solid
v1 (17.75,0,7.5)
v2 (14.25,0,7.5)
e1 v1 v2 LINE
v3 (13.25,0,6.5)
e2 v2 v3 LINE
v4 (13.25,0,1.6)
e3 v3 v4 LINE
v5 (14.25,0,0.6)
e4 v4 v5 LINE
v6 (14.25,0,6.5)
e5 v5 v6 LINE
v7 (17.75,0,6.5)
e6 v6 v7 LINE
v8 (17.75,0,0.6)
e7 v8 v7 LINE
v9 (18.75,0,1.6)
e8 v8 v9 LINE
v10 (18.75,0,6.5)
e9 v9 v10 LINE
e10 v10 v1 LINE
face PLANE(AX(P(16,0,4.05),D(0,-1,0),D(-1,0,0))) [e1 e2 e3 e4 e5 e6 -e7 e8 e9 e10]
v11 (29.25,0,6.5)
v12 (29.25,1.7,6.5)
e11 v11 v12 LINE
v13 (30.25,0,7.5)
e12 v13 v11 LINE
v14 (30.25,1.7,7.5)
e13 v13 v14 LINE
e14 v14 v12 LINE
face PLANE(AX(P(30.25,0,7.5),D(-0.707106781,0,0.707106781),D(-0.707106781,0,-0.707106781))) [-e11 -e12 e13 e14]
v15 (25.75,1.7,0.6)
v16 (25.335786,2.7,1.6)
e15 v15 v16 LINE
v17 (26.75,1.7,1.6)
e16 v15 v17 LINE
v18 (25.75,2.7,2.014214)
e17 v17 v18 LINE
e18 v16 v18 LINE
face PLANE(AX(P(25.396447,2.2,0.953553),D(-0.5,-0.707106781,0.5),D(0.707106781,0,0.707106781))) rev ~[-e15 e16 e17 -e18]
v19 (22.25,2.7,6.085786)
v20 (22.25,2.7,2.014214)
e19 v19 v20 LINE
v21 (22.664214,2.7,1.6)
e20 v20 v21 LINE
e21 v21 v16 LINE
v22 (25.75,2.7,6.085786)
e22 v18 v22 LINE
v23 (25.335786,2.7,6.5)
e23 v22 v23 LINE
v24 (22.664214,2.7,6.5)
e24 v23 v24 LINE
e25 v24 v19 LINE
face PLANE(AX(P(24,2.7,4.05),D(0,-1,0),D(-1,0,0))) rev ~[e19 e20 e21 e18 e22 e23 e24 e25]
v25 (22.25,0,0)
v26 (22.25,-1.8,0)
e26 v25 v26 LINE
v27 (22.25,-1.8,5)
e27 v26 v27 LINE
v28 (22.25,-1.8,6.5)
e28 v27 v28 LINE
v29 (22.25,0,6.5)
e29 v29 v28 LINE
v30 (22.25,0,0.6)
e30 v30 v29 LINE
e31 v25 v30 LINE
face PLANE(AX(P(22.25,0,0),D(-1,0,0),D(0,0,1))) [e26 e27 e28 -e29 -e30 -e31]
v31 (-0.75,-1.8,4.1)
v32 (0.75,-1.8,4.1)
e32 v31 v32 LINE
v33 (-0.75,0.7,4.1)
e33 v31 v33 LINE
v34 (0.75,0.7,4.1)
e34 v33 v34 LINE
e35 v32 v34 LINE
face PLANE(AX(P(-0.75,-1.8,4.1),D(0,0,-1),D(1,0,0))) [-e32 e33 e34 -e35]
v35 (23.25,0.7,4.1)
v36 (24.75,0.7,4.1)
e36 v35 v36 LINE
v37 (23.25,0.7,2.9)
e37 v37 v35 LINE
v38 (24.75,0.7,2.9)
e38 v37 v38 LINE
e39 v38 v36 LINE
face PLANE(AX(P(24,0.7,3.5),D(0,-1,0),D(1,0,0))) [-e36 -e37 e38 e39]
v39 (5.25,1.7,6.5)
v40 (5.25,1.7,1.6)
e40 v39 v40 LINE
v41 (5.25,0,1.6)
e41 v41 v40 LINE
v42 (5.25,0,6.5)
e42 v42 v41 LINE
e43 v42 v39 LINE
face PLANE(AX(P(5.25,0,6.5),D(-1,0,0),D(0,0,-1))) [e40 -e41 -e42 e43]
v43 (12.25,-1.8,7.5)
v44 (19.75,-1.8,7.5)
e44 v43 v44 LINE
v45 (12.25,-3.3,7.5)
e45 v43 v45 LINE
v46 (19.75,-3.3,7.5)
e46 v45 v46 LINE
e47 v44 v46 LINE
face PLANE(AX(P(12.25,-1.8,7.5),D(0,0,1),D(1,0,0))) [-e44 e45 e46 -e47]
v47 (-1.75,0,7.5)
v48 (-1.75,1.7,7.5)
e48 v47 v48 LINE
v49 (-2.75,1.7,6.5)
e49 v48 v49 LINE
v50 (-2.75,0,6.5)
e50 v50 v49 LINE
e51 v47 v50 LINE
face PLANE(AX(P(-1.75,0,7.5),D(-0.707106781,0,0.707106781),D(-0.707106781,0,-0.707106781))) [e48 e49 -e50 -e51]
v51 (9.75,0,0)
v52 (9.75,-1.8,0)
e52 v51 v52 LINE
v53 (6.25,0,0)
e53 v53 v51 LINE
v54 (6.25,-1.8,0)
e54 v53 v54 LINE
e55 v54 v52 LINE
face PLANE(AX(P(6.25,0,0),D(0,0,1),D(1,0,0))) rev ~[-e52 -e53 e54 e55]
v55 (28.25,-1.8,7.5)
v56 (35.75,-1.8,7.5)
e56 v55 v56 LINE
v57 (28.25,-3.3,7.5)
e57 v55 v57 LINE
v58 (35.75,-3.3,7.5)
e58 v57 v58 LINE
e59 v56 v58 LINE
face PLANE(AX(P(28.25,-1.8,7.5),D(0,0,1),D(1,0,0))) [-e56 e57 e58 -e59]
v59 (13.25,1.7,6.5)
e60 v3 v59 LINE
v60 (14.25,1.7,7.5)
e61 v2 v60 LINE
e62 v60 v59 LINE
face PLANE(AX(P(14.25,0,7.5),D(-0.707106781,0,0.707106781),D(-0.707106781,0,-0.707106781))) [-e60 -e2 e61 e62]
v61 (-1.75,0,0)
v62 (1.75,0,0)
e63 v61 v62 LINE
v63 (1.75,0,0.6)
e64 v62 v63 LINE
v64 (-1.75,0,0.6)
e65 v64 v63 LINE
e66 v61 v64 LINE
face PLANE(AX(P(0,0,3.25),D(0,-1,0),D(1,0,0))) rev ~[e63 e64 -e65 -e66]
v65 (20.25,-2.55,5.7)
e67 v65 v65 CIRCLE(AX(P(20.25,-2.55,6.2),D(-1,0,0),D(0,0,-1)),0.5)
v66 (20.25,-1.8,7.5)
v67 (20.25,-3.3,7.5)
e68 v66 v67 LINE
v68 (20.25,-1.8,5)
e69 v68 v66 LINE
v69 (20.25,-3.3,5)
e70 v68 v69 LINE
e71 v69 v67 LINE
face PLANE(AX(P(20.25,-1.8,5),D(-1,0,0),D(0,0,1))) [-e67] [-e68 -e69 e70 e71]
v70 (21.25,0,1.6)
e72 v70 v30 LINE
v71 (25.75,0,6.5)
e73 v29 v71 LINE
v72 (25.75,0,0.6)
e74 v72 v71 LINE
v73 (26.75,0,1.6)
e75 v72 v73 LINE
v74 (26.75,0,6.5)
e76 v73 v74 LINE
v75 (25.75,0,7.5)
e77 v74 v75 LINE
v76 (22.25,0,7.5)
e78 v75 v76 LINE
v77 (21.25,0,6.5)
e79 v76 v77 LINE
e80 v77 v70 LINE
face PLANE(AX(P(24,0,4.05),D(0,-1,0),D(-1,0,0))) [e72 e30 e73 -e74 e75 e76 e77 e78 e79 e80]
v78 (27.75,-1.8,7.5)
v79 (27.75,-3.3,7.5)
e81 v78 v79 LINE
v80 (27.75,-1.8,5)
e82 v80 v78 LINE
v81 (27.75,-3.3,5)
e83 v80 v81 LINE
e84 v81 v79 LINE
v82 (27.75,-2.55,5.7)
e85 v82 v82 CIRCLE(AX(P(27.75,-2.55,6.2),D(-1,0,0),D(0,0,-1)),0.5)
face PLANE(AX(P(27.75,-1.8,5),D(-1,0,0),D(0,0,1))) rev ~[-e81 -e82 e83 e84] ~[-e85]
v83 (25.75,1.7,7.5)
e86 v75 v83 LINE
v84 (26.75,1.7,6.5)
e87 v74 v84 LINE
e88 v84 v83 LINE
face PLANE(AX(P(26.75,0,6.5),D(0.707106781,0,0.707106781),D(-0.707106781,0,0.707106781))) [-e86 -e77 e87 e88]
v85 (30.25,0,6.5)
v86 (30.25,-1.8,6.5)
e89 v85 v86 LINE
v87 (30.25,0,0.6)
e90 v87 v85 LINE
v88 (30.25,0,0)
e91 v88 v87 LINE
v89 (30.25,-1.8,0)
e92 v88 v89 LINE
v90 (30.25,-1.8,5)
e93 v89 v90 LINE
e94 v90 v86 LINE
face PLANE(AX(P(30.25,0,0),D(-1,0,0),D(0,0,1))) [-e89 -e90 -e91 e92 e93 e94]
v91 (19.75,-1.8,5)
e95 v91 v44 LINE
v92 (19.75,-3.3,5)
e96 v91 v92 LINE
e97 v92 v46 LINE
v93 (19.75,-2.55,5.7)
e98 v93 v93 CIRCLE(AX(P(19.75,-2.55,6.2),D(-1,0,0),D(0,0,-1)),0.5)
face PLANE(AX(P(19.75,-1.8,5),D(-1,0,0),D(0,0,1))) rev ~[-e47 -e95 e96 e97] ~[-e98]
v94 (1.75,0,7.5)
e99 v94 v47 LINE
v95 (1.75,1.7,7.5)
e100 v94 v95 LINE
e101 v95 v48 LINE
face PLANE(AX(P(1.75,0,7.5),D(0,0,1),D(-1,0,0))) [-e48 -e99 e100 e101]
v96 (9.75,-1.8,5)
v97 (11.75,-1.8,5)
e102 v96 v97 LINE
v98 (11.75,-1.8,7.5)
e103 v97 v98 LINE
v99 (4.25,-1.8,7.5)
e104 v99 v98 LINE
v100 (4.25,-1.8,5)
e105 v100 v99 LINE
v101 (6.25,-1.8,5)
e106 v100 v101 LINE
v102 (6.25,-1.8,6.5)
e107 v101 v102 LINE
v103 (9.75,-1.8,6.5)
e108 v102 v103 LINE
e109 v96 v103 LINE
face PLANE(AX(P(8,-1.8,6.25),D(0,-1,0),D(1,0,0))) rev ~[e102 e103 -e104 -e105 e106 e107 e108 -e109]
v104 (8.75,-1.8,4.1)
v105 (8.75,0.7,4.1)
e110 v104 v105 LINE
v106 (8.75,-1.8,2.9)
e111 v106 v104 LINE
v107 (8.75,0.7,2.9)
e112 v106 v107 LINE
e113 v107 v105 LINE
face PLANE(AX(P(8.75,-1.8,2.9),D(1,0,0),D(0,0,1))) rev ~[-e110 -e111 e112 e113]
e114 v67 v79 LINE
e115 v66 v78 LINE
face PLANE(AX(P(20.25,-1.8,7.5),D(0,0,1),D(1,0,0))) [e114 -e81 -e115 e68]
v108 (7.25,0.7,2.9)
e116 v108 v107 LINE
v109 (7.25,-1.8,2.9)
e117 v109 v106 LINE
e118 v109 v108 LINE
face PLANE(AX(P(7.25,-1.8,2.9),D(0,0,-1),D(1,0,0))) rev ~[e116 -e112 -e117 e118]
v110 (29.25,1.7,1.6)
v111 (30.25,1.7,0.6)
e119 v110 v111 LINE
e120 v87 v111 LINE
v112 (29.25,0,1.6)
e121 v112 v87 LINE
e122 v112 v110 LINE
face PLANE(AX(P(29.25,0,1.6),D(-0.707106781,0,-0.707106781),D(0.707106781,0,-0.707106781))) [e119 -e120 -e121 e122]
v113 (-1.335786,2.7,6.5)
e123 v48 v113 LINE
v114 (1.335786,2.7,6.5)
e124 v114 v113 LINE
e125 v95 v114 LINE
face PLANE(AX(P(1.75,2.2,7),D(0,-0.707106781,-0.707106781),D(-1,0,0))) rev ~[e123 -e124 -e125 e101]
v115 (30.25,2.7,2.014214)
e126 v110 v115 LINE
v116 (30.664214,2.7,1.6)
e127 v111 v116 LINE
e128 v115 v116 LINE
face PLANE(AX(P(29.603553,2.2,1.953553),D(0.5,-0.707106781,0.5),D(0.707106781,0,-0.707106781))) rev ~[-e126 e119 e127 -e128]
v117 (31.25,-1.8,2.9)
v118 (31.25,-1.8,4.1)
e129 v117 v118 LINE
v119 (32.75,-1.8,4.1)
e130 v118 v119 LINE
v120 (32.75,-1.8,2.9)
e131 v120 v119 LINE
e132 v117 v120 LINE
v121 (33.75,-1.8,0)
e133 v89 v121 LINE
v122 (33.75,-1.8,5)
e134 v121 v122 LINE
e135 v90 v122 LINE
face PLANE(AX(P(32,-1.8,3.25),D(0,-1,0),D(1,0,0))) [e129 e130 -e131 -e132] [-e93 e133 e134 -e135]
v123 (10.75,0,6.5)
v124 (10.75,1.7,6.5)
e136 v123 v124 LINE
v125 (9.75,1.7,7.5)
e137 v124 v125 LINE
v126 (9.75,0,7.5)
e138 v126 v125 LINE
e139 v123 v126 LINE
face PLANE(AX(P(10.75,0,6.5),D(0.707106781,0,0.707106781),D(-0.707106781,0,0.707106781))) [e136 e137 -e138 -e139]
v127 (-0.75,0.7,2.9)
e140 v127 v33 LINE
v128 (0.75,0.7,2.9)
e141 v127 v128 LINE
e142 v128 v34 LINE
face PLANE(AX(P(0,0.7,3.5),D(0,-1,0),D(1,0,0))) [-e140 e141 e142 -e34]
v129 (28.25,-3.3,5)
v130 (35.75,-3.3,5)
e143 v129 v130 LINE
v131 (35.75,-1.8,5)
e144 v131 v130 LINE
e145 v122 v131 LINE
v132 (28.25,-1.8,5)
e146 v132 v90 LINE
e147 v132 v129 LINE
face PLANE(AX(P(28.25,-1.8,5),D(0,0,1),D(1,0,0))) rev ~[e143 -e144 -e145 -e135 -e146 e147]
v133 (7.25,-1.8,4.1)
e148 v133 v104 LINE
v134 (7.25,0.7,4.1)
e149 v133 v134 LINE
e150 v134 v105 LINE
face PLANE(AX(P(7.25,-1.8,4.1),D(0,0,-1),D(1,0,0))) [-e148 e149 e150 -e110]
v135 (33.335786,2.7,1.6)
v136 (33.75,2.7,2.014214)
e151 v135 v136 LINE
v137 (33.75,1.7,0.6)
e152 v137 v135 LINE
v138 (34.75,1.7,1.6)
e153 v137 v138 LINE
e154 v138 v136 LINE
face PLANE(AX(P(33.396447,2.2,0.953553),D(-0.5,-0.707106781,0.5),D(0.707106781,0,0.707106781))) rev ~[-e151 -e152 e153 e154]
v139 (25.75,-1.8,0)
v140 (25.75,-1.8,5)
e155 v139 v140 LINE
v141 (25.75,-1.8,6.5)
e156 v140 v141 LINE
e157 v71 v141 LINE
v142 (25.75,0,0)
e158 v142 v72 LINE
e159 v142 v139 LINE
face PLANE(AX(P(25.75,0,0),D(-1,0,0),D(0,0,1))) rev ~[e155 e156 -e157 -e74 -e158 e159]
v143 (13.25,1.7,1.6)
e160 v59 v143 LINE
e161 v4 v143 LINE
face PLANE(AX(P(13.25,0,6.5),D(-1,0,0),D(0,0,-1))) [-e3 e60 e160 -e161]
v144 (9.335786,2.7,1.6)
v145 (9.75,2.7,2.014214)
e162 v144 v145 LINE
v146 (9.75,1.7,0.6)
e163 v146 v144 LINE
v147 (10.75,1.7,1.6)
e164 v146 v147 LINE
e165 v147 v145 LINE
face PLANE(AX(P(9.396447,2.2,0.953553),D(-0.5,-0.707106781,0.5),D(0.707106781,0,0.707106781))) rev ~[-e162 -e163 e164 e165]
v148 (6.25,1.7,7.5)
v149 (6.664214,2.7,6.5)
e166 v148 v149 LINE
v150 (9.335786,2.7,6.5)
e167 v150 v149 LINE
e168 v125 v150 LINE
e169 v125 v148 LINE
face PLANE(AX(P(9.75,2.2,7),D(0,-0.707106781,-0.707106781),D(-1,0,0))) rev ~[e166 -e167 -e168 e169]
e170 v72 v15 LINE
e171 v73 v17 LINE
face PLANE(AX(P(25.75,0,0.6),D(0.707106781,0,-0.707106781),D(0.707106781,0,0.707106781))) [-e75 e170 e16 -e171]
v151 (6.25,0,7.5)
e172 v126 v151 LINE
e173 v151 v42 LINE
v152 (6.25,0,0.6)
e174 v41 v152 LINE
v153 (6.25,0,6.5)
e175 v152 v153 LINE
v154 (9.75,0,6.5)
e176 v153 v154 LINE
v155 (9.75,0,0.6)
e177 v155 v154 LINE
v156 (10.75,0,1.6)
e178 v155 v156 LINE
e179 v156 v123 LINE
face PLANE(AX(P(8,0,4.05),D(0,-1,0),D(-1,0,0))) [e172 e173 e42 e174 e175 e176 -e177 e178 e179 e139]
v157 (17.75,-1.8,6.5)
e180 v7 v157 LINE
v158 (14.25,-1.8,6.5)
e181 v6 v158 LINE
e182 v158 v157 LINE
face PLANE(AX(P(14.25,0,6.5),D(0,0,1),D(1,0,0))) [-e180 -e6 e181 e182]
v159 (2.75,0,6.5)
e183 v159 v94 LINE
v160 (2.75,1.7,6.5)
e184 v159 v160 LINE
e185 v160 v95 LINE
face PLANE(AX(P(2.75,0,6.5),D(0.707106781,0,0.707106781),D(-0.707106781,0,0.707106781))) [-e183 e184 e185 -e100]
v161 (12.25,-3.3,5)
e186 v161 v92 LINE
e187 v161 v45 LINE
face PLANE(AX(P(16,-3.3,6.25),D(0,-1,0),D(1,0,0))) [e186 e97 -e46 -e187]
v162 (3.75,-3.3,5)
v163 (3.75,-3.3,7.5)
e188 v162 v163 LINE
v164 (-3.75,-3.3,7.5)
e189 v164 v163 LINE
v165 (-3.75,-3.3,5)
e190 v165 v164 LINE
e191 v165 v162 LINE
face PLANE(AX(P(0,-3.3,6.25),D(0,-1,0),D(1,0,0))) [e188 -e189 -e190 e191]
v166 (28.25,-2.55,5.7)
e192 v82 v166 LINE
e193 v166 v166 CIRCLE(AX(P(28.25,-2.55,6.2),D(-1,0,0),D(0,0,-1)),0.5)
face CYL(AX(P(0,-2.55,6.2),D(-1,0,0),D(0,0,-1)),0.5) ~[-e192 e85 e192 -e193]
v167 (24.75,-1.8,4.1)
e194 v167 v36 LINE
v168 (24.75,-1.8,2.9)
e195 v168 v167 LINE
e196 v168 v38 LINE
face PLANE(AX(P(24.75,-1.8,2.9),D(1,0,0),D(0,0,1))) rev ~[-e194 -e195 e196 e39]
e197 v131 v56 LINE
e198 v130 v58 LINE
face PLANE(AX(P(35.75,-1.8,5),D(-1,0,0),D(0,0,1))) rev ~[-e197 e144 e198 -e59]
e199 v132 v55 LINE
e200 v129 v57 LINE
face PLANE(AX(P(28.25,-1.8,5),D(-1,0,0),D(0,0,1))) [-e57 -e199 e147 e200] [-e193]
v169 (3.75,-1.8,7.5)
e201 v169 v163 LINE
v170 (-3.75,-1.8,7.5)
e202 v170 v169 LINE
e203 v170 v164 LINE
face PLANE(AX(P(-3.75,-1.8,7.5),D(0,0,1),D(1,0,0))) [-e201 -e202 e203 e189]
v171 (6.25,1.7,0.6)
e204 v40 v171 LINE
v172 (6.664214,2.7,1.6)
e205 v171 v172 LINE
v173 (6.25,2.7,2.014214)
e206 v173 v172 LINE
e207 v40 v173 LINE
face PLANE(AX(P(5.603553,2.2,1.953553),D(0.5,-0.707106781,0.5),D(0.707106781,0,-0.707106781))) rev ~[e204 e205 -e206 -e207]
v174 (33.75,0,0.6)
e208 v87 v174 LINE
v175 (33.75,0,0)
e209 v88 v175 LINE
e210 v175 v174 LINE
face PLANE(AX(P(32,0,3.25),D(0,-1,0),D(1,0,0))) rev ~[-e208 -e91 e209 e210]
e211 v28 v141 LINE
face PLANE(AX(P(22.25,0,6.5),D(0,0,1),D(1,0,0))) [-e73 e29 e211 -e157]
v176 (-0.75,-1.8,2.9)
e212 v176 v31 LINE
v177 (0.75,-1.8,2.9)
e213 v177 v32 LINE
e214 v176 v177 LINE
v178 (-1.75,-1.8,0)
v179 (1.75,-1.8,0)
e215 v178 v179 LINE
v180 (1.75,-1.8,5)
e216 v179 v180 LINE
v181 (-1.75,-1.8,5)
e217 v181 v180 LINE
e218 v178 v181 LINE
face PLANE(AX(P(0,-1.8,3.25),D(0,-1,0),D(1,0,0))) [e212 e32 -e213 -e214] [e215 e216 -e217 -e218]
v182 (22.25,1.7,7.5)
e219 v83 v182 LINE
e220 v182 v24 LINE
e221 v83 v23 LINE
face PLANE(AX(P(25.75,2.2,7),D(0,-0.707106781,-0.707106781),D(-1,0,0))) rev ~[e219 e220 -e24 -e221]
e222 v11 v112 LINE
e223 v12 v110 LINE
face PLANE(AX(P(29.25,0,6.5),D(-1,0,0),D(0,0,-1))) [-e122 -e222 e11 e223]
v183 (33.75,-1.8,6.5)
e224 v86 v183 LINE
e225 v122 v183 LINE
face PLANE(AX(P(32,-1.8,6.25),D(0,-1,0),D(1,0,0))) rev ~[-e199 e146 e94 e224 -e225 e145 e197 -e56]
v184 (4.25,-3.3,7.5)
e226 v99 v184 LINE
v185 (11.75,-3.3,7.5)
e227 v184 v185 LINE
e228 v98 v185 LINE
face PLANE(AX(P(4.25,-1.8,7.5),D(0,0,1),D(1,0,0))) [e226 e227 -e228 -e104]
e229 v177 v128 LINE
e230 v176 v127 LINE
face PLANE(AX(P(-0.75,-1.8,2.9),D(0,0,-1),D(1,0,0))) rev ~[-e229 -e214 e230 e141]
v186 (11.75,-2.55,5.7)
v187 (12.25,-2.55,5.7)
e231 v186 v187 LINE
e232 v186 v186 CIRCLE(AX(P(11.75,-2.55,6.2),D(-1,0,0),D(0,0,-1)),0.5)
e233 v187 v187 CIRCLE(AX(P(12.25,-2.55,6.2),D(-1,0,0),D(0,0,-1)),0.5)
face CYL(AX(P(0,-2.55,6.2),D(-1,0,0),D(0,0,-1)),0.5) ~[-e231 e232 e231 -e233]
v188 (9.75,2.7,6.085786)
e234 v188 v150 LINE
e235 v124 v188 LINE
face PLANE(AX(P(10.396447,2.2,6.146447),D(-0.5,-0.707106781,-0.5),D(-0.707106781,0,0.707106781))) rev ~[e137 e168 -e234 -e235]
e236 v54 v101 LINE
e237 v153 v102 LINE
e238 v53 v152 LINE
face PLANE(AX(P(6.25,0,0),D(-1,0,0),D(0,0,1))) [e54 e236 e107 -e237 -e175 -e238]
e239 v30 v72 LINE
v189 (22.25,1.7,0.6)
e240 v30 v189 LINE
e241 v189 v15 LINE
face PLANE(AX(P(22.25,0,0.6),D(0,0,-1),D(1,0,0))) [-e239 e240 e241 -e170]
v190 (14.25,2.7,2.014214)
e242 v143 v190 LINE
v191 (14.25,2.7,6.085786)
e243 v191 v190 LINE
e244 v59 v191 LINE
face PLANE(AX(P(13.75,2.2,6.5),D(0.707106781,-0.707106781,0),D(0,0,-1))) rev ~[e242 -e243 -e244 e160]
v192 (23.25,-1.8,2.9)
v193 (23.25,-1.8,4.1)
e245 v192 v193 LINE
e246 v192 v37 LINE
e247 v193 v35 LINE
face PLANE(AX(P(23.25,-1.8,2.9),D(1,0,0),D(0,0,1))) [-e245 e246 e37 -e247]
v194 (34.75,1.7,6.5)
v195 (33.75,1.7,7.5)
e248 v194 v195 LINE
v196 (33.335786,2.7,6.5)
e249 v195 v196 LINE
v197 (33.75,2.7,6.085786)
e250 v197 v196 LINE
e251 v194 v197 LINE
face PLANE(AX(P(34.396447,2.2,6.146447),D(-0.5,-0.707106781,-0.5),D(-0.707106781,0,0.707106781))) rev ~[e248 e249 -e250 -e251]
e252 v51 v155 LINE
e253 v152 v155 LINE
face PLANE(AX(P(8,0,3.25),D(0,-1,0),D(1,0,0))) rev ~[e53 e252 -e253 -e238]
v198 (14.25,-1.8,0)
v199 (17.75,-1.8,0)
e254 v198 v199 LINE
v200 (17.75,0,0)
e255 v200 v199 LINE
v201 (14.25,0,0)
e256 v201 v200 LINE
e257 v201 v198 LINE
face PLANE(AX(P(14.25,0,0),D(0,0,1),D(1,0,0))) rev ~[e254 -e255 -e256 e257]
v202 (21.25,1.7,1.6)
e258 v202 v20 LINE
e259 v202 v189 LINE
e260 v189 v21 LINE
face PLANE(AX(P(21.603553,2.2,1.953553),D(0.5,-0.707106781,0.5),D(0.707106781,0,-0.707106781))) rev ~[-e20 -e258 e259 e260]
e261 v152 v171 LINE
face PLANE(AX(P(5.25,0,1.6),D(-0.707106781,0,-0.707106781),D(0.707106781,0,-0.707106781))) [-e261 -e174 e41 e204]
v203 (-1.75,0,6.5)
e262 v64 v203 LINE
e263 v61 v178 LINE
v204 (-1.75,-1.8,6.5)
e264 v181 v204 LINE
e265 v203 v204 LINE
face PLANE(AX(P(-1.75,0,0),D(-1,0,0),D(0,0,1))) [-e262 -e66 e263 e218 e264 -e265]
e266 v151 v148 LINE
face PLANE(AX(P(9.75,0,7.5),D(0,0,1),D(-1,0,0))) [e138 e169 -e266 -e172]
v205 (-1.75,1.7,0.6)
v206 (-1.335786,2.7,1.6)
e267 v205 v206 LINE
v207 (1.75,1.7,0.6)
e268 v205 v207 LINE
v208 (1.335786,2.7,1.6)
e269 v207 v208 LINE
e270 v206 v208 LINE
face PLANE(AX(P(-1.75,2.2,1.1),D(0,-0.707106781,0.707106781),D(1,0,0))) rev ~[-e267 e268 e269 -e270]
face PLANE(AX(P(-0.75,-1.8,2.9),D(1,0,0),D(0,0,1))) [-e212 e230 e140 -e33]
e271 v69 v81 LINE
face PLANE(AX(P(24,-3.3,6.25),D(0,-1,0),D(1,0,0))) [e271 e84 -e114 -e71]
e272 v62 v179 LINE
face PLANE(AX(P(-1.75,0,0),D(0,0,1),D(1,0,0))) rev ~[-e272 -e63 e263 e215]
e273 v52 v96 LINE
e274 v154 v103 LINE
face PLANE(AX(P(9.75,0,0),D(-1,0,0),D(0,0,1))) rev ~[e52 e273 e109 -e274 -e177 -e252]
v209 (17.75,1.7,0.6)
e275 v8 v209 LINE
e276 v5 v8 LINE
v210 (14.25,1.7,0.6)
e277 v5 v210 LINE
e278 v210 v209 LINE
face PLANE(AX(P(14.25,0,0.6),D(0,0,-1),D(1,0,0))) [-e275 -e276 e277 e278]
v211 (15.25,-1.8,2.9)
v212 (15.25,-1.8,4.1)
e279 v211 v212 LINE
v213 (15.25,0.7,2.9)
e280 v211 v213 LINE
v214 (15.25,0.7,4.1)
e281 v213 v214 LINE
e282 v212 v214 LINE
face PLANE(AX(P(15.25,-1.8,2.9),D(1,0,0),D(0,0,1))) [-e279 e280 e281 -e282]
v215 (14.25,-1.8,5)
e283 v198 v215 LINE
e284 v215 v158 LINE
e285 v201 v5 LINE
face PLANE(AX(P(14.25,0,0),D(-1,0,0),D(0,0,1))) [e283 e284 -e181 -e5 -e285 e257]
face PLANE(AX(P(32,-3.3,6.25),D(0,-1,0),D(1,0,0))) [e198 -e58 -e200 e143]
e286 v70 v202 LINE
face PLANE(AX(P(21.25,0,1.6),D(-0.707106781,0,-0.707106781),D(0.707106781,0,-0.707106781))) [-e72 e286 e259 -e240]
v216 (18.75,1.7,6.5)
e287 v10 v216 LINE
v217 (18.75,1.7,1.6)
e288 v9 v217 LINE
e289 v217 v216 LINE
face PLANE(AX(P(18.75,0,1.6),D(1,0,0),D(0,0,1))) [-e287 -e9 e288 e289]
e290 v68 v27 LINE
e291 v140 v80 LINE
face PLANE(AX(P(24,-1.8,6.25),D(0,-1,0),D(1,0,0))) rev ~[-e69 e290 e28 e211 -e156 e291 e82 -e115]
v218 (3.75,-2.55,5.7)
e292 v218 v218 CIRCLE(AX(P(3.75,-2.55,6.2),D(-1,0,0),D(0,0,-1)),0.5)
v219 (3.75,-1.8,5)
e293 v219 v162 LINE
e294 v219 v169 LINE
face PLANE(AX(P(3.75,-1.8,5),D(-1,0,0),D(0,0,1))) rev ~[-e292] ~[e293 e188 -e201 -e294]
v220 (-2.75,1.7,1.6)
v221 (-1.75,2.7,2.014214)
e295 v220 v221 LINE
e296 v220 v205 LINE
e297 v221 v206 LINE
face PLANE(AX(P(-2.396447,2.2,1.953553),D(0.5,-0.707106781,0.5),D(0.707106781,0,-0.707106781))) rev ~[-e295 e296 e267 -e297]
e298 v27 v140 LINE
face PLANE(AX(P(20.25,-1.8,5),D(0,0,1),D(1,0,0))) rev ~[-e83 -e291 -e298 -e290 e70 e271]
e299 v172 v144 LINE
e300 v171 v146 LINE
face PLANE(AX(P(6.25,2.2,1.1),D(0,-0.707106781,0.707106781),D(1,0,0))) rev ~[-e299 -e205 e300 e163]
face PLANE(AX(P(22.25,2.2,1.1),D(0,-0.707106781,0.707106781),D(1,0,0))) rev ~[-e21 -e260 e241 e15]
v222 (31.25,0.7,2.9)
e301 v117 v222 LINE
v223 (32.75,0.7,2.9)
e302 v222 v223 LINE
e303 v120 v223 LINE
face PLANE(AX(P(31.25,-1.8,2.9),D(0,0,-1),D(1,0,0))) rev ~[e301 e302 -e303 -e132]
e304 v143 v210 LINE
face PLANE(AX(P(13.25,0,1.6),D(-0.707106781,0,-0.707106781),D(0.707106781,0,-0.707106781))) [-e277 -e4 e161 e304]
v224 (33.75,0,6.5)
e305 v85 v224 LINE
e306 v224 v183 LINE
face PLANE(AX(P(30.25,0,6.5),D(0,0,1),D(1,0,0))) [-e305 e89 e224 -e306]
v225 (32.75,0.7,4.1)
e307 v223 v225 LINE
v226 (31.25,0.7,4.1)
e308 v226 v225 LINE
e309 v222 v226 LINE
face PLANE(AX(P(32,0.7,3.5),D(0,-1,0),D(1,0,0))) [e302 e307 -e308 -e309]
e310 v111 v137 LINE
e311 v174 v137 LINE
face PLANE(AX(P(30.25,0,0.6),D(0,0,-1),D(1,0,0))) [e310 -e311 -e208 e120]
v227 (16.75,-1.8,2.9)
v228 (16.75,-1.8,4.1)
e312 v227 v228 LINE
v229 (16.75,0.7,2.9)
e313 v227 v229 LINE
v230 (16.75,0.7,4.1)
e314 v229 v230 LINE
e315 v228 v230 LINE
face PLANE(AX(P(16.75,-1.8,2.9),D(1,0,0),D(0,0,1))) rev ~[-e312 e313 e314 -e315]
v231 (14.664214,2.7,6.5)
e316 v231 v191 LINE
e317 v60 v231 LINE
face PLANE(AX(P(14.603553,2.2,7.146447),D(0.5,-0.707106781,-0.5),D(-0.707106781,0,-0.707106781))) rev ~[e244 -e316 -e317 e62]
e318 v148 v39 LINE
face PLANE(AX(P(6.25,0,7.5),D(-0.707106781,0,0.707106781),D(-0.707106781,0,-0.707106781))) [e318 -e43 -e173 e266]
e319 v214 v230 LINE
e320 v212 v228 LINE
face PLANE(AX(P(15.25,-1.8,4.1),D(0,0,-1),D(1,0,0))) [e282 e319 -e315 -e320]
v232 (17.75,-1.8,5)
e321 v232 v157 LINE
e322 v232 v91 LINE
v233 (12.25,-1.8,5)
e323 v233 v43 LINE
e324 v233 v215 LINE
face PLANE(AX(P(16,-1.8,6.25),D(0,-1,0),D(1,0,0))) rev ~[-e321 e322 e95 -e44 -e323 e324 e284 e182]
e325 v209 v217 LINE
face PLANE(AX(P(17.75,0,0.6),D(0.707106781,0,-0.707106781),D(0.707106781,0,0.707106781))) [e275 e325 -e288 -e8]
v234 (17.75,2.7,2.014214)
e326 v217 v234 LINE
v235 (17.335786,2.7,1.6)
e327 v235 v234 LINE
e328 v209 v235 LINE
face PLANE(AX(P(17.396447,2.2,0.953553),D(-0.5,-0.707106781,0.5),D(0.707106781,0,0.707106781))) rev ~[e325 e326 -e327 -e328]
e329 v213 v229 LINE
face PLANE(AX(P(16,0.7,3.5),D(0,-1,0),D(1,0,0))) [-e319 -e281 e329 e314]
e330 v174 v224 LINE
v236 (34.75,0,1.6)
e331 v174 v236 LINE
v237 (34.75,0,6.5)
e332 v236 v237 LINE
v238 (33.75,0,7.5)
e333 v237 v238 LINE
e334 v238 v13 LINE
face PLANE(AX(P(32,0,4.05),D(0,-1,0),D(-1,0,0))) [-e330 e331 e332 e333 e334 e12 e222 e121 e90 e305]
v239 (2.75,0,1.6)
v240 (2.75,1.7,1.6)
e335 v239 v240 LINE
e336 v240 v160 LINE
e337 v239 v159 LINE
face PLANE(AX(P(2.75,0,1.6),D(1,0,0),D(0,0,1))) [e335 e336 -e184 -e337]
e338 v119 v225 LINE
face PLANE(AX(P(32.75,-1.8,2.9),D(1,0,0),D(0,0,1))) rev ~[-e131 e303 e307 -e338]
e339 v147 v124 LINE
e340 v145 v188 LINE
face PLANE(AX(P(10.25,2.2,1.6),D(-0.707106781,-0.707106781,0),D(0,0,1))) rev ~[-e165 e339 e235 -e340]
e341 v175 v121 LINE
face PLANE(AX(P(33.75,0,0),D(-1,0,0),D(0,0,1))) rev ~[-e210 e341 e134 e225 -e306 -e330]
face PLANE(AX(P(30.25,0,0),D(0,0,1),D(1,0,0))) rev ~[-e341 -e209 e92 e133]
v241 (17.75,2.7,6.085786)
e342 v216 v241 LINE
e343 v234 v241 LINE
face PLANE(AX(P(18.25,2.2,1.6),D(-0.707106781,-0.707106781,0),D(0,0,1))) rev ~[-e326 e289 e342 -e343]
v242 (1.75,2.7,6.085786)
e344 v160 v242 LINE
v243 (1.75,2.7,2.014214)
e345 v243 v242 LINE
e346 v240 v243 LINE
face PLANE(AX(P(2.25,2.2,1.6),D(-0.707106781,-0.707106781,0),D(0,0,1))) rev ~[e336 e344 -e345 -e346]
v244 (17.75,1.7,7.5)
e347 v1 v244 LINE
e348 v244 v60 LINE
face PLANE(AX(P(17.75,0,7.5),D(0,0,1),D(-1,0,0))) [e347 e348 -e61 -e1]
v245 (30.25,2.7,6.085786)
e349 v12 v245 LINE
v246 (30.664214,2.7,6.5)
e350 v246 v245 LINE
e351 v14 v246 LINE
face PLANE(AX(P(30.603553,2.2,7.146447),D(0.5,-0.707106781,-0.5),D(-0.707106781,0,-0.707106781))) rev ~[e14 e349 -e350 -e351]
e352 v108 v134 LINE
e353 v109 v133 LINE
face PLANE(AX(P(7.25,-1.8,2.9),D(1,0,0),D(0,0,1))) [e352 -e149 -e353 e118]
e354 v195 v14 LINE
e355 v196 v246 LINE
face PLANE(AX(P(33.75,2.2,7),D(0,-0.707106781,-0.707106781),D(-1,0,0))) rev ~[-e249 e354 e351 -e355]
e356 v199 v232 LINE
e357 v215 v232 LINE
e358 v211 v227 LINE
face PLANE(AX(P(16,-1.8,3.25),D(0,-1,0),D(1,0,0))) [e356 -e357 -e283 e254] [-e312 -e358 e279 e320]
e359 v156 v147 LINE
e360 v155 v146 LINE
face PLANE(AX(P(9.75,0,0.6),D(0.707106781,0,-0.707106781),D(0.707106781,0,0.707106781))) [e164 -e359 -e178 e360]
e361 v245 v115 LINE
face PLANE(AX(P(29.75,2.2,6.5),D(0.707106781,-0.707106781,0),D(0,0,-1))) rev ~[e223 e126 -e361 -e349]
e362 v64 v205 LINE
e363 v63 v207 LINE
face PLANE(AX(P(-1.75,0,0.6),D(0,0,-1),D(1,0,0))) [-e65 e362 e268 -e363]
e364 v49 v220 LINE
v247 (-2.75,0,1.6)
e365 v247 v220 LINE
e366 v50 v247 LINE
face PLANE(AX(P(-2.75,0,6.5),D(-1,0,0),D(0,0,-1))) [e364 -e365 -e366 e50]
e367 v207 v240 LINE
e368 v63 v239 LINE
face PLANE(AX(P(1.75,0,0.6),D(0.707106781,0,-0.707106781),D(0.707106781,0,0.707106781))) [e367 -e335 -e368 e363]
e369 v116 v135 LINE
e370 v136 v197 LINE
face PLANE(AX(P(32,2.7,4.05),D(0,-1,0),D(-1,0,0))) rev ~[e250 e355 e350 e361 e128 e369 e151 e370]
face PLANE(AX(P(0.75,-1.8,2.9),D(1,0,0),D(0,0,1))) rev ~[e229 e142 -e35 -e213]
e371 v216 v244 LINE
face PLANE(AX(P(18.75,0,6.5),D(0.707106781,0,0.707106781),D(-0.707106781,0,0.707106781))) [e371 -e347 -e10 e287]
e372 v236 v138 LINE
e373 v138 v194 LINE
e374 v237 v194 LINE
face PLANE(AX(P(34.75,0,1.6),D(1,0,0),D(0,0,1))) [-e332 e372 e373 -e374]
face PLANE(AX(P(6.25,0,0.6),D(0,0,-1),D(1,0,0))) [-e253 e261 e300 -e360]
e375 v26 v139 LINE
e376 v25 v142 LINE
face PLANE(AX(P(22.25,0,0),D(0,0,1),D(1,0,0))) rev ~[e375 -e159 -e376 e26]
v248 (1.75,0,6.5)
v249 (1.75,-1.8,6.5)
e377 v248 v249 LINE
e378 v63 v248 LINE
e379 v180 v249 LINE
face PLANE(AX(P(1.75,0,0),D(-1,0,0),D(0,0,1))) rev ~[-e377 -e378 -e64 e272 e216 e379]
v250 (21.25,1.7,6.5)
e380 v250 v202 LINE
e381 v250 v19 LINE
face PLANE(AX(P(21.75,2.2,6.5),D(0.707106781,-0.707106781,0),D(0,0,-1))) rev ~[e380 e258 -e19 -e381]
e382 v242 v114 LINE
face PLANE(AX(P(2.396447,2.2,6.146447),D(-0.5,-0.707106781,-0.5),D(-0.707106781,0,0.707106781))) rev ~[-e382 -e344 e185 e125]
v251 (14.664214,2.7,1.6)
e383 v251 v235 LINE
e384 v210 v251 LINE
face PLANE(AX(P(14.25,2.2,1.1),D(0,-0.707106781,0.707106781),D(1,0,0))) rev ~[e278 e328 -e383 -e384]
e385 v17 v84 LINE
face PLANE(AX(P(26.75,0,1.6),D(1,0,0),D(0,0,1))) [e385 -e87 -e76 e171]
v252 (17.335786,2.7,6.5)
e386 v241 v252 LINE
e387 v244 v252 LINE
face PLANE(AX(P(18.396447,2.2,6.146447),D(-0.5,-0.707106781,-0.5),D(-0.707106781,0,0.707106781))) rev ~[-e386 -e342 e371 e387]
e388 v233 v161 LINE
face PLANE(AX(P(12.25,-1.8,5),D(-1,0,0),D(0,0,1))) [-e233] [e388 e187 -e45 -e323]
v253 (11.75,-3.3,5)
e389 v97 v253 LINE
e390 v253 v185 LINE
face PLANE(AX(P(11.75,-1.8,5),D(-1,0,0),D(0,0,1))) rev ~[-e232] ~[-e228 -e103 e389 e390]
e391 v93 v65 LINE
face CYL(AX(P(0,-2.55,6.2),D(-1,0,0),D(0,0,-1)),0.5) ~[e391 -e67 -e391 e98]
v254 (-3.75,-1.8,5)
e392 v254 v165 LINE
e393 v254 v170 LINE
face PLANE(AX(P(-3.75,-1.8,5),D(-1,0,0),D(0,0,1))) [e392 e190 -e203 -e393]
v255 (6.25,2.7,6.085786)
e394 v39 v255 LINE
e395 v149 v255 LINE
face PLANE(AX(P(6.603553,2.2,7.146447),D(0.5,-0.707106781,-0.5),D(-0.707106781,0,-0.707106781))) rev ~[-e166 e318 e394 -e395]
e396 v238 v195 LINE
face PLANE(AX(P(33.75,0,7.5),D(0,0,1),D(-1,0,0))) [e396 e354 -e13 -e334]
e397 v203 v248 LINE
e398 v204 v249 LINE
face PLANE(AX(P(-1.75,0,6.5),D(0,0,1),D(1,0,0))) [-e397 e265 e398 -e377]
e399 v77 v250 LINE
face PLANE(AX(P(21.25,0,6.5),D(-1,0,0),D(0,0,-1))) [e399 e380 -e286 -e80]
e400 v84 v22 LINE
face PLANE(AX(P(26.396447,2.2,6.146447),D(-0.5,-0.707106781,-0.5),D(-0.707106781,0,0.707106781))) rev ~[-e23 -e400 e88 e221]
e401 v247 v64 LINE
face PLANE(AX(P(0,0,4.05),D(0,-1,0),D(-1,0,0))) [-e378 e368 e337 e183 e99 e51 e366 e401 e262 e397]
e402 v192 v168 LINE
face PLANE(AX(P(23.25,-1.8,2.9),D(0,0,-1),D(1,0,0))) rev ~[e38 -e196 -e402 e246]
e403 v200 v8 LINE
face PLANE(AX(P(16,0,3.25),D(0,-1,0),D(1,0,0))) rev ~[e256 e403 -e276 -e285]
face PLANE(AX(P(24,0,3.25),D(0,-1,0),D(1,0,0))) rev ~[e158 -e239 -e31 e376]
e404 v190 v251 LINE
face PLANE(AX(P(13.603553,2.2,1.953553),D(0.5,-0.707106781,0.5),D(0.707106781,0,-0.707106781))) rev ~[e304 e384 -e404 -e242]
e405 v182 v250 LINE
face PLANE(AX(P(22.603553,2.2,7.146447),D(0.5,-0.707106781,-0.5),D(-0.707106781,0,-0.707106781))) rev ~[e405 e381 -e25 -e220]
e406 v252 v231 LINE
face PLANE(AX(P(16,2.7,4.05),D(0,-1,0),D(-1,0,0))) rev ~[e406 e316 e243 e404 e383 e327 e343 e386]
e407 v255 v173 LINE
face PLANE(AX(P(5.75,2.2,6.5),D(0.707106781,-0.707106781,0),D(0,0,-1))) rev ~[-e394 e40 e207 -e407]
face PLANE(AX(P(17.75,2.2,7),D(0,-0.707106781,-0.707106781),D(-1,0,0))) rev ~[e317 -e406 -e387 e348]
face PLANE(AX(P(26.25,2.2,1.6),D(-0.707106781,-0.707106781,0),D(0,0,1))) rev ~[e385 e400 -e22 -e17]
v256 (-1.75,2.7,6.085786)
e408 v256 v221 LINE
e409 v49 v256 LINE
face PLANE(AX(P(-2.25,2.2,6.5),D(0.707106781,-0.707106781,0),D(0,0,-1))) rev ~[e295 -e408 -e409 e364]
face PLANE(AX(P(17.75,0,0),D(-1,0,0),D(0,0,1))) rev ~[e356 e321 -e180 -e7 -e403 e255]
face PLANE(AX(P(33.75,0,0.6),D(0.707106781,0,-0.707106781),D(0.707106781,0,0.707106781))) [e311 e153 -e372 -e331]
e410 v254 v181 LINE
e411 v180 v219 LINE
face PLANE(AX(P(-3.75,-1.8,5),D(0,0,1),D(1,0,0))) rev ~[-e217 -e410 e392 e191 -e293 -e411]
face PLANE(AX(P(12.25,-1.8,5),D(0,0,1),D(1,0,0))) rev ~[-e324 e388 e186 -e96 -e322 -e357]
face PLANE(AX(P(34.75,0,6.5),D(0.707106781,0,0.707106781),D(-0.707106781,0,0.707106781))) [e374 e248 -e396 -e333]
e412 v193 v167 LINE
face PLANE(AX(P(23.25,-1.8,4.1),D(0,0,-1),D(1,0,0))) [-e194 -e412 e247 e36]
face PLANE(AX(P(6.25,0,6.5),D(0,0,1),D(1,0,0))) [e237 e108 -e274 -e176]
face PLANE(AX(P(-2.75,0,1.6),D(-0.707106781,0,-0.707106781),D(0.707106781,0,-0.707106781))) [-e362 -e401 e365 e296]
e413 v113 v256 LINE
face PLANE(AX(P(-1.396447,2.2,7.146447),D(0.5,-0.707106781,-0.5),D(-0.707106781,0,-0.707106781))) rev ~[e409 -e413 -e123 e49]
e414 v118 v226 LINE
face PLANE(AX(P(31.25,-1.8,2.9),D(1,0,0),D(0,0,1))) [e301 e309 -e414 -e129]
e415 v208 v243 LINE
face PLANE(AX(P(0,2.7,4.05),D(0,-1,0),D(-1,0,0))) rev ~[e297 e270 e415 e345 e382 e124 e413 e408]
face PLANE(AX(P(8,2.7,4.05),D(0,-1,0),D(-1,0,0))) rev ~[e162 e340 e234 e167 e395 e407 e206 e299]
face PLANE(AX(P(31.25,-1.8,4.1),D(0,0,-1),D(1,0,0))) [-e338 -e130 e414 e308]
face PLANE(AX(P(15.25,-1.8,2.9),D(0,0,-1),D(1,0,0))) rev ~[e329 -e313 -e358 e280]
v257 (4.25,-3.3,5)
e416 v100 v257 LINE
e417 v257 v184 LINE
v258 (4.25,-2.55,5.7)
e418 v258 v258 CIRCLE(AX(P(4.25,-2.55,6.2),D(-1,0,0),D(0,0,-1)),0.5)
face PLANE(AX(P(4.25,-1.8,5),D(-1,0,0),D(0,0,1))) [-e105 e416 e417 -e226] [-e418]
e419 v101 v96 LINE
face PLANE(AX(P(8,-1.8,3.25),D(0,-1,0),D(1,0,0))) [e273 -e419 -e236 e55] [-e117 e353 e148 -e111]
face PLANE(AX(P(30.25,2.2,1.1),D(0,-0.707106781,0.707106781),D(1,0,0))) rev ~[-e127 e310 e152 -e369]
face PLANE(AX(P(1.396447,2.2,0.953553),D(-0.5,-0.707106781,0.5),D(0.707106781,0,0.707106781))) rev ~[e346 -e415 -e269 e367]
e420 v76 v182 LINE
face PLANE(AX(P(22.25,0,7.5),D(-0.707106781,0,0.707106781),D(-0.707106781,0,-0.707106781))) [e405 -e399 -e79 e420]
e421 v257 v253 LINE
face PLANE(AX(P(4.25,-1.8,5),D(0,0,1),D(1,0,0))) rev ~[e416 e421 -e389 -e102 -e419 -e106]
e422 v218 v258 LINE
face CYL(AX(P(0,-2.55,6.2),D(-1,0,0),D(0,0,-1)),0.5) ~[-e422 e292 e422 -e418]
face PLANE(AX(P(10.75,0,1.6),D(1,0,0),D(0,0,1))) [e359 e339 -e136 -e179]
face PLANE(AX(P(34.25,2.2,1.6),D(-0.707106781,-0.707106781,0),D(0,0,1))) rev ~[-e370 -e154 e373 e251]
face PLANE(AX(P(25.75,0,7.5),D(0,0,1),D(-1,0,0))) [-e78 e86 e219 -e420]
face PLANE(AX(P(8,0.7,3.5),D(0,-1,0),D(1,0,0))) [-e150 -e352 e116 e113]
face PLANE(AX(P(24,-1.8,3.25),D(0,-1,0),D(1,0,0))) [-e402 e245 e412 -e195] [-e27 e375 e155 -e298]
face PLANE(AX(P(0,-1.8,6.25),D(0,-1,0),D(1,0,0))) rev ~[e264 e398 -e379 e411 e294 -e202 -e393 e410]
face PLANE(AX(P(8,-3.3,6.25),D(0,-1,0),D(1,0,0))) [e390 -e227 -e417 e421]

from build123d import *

# Parameters (mm, degrees)
CYLINDER_R           = 0.5
CYLINDER_DEPTH       = 35
CYLINDER_PITCH_ANGLE = 90
SKETCH_W             = 3.5
SKETCH_H             = 6.5
PAD_DEPTH            = 1.8
PAD001_DEPTH         = 2.7
SKETCH002_W          = 1.5
SKETCH002_H          = 1.2
POCKET_DEPTH         = 2.5
SKETCH003_W          = 7.5
SKETCH003_H          = 2.5
PAD002_DEPTH         = 1.5
CHAMFER_SIZE         = 1
ARRAY_X_COUNT        = 5
ARRAY_X_PITCH        = 8


with BuildPart() as cylinder:
    # Cylinder → Cylinder (new body)
    with BuildSketch(Plane.XY):
        Circle(CYLINDER_R)
    extrude(amount=CYLINDER_DEPTH)


with BuildPart() as cylinder_1:
    # Cylinder pitch: moved
    add(cylinder.part.rotate(Axis((0, 0, 0), (0, 1, 0)), CYLINDER_PITCH_ANGLE))


with BuildPart() as cylinder_2:
    # Cylinder placement: moved
    add(cylinder_1.part.moved(Location((0, -2.55, 6.2))))


with BuildPart() as fusion:
    # Sketch → Pad (new body)
    with BuildSketch(Plane.XZ):
        with Locations((0, 3.25)):
            Rectangle(SKETCH_W, SKETCH_H)
    extrude(amount=PAD_DEPTH)

    # Sketch001 → Pad001 (new body)
    with BuildSketch(Plane(origin=(0, 0, 0), x_dir=(1, 0, 0), z_dir=(0, 1, 0))):
        Polygon((-1.75, -0.6), (1.75, -0.6), (2.75, -1.6), (2.75, -6.5), (1.75, -7.5), (-1.75, -7.5), (-2.75, -6.5), (-2.75, -1.6), align=None)
    extrude(amount=PAD001_DEPTH)

    # Sketch002 → Pocket (cut)
    with BuildSketch(Plane.XZ.offset(1.8)):
        with Locations((0, 3.5)):
            Rectangle(SKETCH002_W, SKETCH002_H)
    extrude(amount=-POCKET_DEPTH, mode=Mode.SUBTRACT)

    # Sketch003 → Pad002 (new body)
    with BuildSketch(Plane.XZ.offset(1.8)):
        with Locations((0, 6.25)):
            Rectangle(SKETCH003_W, SKETCH003_H)
    extrude(amount=PAD002_DEPTH)

    # Chamfer
    chamfer_edges = [fusion.edges().sort_by_distance(p)[0] for p in [
        (-2.75, 2.7, 4.05),
        (-2.25, 2.7, 1.1),
        (0, 2.7, 0.6),
        (2.25, 2.7, 1.1),
        (2.75, 2.7, 4.05),
        (2.25, 2.7, 7),
        (0, 2.7, 7.5),
        (-2.25, 2.7, 7),
    ]]
    chamfer(chamfer_edges, length=CHAMFER_SIZE)

    # Array X: Fusion ×5


with BuildPart() as fusion_1:
    add(fusion.part)
    with Locations(*[(i * ARRAY_X_PITCH, 0, 0) for i in range(1, ARRAY_X_COUNT)]):
        add(fusion.part)

    # Fusion: union Cylinder
    add(cylinder_2.part)


solid = fusion_1.part
